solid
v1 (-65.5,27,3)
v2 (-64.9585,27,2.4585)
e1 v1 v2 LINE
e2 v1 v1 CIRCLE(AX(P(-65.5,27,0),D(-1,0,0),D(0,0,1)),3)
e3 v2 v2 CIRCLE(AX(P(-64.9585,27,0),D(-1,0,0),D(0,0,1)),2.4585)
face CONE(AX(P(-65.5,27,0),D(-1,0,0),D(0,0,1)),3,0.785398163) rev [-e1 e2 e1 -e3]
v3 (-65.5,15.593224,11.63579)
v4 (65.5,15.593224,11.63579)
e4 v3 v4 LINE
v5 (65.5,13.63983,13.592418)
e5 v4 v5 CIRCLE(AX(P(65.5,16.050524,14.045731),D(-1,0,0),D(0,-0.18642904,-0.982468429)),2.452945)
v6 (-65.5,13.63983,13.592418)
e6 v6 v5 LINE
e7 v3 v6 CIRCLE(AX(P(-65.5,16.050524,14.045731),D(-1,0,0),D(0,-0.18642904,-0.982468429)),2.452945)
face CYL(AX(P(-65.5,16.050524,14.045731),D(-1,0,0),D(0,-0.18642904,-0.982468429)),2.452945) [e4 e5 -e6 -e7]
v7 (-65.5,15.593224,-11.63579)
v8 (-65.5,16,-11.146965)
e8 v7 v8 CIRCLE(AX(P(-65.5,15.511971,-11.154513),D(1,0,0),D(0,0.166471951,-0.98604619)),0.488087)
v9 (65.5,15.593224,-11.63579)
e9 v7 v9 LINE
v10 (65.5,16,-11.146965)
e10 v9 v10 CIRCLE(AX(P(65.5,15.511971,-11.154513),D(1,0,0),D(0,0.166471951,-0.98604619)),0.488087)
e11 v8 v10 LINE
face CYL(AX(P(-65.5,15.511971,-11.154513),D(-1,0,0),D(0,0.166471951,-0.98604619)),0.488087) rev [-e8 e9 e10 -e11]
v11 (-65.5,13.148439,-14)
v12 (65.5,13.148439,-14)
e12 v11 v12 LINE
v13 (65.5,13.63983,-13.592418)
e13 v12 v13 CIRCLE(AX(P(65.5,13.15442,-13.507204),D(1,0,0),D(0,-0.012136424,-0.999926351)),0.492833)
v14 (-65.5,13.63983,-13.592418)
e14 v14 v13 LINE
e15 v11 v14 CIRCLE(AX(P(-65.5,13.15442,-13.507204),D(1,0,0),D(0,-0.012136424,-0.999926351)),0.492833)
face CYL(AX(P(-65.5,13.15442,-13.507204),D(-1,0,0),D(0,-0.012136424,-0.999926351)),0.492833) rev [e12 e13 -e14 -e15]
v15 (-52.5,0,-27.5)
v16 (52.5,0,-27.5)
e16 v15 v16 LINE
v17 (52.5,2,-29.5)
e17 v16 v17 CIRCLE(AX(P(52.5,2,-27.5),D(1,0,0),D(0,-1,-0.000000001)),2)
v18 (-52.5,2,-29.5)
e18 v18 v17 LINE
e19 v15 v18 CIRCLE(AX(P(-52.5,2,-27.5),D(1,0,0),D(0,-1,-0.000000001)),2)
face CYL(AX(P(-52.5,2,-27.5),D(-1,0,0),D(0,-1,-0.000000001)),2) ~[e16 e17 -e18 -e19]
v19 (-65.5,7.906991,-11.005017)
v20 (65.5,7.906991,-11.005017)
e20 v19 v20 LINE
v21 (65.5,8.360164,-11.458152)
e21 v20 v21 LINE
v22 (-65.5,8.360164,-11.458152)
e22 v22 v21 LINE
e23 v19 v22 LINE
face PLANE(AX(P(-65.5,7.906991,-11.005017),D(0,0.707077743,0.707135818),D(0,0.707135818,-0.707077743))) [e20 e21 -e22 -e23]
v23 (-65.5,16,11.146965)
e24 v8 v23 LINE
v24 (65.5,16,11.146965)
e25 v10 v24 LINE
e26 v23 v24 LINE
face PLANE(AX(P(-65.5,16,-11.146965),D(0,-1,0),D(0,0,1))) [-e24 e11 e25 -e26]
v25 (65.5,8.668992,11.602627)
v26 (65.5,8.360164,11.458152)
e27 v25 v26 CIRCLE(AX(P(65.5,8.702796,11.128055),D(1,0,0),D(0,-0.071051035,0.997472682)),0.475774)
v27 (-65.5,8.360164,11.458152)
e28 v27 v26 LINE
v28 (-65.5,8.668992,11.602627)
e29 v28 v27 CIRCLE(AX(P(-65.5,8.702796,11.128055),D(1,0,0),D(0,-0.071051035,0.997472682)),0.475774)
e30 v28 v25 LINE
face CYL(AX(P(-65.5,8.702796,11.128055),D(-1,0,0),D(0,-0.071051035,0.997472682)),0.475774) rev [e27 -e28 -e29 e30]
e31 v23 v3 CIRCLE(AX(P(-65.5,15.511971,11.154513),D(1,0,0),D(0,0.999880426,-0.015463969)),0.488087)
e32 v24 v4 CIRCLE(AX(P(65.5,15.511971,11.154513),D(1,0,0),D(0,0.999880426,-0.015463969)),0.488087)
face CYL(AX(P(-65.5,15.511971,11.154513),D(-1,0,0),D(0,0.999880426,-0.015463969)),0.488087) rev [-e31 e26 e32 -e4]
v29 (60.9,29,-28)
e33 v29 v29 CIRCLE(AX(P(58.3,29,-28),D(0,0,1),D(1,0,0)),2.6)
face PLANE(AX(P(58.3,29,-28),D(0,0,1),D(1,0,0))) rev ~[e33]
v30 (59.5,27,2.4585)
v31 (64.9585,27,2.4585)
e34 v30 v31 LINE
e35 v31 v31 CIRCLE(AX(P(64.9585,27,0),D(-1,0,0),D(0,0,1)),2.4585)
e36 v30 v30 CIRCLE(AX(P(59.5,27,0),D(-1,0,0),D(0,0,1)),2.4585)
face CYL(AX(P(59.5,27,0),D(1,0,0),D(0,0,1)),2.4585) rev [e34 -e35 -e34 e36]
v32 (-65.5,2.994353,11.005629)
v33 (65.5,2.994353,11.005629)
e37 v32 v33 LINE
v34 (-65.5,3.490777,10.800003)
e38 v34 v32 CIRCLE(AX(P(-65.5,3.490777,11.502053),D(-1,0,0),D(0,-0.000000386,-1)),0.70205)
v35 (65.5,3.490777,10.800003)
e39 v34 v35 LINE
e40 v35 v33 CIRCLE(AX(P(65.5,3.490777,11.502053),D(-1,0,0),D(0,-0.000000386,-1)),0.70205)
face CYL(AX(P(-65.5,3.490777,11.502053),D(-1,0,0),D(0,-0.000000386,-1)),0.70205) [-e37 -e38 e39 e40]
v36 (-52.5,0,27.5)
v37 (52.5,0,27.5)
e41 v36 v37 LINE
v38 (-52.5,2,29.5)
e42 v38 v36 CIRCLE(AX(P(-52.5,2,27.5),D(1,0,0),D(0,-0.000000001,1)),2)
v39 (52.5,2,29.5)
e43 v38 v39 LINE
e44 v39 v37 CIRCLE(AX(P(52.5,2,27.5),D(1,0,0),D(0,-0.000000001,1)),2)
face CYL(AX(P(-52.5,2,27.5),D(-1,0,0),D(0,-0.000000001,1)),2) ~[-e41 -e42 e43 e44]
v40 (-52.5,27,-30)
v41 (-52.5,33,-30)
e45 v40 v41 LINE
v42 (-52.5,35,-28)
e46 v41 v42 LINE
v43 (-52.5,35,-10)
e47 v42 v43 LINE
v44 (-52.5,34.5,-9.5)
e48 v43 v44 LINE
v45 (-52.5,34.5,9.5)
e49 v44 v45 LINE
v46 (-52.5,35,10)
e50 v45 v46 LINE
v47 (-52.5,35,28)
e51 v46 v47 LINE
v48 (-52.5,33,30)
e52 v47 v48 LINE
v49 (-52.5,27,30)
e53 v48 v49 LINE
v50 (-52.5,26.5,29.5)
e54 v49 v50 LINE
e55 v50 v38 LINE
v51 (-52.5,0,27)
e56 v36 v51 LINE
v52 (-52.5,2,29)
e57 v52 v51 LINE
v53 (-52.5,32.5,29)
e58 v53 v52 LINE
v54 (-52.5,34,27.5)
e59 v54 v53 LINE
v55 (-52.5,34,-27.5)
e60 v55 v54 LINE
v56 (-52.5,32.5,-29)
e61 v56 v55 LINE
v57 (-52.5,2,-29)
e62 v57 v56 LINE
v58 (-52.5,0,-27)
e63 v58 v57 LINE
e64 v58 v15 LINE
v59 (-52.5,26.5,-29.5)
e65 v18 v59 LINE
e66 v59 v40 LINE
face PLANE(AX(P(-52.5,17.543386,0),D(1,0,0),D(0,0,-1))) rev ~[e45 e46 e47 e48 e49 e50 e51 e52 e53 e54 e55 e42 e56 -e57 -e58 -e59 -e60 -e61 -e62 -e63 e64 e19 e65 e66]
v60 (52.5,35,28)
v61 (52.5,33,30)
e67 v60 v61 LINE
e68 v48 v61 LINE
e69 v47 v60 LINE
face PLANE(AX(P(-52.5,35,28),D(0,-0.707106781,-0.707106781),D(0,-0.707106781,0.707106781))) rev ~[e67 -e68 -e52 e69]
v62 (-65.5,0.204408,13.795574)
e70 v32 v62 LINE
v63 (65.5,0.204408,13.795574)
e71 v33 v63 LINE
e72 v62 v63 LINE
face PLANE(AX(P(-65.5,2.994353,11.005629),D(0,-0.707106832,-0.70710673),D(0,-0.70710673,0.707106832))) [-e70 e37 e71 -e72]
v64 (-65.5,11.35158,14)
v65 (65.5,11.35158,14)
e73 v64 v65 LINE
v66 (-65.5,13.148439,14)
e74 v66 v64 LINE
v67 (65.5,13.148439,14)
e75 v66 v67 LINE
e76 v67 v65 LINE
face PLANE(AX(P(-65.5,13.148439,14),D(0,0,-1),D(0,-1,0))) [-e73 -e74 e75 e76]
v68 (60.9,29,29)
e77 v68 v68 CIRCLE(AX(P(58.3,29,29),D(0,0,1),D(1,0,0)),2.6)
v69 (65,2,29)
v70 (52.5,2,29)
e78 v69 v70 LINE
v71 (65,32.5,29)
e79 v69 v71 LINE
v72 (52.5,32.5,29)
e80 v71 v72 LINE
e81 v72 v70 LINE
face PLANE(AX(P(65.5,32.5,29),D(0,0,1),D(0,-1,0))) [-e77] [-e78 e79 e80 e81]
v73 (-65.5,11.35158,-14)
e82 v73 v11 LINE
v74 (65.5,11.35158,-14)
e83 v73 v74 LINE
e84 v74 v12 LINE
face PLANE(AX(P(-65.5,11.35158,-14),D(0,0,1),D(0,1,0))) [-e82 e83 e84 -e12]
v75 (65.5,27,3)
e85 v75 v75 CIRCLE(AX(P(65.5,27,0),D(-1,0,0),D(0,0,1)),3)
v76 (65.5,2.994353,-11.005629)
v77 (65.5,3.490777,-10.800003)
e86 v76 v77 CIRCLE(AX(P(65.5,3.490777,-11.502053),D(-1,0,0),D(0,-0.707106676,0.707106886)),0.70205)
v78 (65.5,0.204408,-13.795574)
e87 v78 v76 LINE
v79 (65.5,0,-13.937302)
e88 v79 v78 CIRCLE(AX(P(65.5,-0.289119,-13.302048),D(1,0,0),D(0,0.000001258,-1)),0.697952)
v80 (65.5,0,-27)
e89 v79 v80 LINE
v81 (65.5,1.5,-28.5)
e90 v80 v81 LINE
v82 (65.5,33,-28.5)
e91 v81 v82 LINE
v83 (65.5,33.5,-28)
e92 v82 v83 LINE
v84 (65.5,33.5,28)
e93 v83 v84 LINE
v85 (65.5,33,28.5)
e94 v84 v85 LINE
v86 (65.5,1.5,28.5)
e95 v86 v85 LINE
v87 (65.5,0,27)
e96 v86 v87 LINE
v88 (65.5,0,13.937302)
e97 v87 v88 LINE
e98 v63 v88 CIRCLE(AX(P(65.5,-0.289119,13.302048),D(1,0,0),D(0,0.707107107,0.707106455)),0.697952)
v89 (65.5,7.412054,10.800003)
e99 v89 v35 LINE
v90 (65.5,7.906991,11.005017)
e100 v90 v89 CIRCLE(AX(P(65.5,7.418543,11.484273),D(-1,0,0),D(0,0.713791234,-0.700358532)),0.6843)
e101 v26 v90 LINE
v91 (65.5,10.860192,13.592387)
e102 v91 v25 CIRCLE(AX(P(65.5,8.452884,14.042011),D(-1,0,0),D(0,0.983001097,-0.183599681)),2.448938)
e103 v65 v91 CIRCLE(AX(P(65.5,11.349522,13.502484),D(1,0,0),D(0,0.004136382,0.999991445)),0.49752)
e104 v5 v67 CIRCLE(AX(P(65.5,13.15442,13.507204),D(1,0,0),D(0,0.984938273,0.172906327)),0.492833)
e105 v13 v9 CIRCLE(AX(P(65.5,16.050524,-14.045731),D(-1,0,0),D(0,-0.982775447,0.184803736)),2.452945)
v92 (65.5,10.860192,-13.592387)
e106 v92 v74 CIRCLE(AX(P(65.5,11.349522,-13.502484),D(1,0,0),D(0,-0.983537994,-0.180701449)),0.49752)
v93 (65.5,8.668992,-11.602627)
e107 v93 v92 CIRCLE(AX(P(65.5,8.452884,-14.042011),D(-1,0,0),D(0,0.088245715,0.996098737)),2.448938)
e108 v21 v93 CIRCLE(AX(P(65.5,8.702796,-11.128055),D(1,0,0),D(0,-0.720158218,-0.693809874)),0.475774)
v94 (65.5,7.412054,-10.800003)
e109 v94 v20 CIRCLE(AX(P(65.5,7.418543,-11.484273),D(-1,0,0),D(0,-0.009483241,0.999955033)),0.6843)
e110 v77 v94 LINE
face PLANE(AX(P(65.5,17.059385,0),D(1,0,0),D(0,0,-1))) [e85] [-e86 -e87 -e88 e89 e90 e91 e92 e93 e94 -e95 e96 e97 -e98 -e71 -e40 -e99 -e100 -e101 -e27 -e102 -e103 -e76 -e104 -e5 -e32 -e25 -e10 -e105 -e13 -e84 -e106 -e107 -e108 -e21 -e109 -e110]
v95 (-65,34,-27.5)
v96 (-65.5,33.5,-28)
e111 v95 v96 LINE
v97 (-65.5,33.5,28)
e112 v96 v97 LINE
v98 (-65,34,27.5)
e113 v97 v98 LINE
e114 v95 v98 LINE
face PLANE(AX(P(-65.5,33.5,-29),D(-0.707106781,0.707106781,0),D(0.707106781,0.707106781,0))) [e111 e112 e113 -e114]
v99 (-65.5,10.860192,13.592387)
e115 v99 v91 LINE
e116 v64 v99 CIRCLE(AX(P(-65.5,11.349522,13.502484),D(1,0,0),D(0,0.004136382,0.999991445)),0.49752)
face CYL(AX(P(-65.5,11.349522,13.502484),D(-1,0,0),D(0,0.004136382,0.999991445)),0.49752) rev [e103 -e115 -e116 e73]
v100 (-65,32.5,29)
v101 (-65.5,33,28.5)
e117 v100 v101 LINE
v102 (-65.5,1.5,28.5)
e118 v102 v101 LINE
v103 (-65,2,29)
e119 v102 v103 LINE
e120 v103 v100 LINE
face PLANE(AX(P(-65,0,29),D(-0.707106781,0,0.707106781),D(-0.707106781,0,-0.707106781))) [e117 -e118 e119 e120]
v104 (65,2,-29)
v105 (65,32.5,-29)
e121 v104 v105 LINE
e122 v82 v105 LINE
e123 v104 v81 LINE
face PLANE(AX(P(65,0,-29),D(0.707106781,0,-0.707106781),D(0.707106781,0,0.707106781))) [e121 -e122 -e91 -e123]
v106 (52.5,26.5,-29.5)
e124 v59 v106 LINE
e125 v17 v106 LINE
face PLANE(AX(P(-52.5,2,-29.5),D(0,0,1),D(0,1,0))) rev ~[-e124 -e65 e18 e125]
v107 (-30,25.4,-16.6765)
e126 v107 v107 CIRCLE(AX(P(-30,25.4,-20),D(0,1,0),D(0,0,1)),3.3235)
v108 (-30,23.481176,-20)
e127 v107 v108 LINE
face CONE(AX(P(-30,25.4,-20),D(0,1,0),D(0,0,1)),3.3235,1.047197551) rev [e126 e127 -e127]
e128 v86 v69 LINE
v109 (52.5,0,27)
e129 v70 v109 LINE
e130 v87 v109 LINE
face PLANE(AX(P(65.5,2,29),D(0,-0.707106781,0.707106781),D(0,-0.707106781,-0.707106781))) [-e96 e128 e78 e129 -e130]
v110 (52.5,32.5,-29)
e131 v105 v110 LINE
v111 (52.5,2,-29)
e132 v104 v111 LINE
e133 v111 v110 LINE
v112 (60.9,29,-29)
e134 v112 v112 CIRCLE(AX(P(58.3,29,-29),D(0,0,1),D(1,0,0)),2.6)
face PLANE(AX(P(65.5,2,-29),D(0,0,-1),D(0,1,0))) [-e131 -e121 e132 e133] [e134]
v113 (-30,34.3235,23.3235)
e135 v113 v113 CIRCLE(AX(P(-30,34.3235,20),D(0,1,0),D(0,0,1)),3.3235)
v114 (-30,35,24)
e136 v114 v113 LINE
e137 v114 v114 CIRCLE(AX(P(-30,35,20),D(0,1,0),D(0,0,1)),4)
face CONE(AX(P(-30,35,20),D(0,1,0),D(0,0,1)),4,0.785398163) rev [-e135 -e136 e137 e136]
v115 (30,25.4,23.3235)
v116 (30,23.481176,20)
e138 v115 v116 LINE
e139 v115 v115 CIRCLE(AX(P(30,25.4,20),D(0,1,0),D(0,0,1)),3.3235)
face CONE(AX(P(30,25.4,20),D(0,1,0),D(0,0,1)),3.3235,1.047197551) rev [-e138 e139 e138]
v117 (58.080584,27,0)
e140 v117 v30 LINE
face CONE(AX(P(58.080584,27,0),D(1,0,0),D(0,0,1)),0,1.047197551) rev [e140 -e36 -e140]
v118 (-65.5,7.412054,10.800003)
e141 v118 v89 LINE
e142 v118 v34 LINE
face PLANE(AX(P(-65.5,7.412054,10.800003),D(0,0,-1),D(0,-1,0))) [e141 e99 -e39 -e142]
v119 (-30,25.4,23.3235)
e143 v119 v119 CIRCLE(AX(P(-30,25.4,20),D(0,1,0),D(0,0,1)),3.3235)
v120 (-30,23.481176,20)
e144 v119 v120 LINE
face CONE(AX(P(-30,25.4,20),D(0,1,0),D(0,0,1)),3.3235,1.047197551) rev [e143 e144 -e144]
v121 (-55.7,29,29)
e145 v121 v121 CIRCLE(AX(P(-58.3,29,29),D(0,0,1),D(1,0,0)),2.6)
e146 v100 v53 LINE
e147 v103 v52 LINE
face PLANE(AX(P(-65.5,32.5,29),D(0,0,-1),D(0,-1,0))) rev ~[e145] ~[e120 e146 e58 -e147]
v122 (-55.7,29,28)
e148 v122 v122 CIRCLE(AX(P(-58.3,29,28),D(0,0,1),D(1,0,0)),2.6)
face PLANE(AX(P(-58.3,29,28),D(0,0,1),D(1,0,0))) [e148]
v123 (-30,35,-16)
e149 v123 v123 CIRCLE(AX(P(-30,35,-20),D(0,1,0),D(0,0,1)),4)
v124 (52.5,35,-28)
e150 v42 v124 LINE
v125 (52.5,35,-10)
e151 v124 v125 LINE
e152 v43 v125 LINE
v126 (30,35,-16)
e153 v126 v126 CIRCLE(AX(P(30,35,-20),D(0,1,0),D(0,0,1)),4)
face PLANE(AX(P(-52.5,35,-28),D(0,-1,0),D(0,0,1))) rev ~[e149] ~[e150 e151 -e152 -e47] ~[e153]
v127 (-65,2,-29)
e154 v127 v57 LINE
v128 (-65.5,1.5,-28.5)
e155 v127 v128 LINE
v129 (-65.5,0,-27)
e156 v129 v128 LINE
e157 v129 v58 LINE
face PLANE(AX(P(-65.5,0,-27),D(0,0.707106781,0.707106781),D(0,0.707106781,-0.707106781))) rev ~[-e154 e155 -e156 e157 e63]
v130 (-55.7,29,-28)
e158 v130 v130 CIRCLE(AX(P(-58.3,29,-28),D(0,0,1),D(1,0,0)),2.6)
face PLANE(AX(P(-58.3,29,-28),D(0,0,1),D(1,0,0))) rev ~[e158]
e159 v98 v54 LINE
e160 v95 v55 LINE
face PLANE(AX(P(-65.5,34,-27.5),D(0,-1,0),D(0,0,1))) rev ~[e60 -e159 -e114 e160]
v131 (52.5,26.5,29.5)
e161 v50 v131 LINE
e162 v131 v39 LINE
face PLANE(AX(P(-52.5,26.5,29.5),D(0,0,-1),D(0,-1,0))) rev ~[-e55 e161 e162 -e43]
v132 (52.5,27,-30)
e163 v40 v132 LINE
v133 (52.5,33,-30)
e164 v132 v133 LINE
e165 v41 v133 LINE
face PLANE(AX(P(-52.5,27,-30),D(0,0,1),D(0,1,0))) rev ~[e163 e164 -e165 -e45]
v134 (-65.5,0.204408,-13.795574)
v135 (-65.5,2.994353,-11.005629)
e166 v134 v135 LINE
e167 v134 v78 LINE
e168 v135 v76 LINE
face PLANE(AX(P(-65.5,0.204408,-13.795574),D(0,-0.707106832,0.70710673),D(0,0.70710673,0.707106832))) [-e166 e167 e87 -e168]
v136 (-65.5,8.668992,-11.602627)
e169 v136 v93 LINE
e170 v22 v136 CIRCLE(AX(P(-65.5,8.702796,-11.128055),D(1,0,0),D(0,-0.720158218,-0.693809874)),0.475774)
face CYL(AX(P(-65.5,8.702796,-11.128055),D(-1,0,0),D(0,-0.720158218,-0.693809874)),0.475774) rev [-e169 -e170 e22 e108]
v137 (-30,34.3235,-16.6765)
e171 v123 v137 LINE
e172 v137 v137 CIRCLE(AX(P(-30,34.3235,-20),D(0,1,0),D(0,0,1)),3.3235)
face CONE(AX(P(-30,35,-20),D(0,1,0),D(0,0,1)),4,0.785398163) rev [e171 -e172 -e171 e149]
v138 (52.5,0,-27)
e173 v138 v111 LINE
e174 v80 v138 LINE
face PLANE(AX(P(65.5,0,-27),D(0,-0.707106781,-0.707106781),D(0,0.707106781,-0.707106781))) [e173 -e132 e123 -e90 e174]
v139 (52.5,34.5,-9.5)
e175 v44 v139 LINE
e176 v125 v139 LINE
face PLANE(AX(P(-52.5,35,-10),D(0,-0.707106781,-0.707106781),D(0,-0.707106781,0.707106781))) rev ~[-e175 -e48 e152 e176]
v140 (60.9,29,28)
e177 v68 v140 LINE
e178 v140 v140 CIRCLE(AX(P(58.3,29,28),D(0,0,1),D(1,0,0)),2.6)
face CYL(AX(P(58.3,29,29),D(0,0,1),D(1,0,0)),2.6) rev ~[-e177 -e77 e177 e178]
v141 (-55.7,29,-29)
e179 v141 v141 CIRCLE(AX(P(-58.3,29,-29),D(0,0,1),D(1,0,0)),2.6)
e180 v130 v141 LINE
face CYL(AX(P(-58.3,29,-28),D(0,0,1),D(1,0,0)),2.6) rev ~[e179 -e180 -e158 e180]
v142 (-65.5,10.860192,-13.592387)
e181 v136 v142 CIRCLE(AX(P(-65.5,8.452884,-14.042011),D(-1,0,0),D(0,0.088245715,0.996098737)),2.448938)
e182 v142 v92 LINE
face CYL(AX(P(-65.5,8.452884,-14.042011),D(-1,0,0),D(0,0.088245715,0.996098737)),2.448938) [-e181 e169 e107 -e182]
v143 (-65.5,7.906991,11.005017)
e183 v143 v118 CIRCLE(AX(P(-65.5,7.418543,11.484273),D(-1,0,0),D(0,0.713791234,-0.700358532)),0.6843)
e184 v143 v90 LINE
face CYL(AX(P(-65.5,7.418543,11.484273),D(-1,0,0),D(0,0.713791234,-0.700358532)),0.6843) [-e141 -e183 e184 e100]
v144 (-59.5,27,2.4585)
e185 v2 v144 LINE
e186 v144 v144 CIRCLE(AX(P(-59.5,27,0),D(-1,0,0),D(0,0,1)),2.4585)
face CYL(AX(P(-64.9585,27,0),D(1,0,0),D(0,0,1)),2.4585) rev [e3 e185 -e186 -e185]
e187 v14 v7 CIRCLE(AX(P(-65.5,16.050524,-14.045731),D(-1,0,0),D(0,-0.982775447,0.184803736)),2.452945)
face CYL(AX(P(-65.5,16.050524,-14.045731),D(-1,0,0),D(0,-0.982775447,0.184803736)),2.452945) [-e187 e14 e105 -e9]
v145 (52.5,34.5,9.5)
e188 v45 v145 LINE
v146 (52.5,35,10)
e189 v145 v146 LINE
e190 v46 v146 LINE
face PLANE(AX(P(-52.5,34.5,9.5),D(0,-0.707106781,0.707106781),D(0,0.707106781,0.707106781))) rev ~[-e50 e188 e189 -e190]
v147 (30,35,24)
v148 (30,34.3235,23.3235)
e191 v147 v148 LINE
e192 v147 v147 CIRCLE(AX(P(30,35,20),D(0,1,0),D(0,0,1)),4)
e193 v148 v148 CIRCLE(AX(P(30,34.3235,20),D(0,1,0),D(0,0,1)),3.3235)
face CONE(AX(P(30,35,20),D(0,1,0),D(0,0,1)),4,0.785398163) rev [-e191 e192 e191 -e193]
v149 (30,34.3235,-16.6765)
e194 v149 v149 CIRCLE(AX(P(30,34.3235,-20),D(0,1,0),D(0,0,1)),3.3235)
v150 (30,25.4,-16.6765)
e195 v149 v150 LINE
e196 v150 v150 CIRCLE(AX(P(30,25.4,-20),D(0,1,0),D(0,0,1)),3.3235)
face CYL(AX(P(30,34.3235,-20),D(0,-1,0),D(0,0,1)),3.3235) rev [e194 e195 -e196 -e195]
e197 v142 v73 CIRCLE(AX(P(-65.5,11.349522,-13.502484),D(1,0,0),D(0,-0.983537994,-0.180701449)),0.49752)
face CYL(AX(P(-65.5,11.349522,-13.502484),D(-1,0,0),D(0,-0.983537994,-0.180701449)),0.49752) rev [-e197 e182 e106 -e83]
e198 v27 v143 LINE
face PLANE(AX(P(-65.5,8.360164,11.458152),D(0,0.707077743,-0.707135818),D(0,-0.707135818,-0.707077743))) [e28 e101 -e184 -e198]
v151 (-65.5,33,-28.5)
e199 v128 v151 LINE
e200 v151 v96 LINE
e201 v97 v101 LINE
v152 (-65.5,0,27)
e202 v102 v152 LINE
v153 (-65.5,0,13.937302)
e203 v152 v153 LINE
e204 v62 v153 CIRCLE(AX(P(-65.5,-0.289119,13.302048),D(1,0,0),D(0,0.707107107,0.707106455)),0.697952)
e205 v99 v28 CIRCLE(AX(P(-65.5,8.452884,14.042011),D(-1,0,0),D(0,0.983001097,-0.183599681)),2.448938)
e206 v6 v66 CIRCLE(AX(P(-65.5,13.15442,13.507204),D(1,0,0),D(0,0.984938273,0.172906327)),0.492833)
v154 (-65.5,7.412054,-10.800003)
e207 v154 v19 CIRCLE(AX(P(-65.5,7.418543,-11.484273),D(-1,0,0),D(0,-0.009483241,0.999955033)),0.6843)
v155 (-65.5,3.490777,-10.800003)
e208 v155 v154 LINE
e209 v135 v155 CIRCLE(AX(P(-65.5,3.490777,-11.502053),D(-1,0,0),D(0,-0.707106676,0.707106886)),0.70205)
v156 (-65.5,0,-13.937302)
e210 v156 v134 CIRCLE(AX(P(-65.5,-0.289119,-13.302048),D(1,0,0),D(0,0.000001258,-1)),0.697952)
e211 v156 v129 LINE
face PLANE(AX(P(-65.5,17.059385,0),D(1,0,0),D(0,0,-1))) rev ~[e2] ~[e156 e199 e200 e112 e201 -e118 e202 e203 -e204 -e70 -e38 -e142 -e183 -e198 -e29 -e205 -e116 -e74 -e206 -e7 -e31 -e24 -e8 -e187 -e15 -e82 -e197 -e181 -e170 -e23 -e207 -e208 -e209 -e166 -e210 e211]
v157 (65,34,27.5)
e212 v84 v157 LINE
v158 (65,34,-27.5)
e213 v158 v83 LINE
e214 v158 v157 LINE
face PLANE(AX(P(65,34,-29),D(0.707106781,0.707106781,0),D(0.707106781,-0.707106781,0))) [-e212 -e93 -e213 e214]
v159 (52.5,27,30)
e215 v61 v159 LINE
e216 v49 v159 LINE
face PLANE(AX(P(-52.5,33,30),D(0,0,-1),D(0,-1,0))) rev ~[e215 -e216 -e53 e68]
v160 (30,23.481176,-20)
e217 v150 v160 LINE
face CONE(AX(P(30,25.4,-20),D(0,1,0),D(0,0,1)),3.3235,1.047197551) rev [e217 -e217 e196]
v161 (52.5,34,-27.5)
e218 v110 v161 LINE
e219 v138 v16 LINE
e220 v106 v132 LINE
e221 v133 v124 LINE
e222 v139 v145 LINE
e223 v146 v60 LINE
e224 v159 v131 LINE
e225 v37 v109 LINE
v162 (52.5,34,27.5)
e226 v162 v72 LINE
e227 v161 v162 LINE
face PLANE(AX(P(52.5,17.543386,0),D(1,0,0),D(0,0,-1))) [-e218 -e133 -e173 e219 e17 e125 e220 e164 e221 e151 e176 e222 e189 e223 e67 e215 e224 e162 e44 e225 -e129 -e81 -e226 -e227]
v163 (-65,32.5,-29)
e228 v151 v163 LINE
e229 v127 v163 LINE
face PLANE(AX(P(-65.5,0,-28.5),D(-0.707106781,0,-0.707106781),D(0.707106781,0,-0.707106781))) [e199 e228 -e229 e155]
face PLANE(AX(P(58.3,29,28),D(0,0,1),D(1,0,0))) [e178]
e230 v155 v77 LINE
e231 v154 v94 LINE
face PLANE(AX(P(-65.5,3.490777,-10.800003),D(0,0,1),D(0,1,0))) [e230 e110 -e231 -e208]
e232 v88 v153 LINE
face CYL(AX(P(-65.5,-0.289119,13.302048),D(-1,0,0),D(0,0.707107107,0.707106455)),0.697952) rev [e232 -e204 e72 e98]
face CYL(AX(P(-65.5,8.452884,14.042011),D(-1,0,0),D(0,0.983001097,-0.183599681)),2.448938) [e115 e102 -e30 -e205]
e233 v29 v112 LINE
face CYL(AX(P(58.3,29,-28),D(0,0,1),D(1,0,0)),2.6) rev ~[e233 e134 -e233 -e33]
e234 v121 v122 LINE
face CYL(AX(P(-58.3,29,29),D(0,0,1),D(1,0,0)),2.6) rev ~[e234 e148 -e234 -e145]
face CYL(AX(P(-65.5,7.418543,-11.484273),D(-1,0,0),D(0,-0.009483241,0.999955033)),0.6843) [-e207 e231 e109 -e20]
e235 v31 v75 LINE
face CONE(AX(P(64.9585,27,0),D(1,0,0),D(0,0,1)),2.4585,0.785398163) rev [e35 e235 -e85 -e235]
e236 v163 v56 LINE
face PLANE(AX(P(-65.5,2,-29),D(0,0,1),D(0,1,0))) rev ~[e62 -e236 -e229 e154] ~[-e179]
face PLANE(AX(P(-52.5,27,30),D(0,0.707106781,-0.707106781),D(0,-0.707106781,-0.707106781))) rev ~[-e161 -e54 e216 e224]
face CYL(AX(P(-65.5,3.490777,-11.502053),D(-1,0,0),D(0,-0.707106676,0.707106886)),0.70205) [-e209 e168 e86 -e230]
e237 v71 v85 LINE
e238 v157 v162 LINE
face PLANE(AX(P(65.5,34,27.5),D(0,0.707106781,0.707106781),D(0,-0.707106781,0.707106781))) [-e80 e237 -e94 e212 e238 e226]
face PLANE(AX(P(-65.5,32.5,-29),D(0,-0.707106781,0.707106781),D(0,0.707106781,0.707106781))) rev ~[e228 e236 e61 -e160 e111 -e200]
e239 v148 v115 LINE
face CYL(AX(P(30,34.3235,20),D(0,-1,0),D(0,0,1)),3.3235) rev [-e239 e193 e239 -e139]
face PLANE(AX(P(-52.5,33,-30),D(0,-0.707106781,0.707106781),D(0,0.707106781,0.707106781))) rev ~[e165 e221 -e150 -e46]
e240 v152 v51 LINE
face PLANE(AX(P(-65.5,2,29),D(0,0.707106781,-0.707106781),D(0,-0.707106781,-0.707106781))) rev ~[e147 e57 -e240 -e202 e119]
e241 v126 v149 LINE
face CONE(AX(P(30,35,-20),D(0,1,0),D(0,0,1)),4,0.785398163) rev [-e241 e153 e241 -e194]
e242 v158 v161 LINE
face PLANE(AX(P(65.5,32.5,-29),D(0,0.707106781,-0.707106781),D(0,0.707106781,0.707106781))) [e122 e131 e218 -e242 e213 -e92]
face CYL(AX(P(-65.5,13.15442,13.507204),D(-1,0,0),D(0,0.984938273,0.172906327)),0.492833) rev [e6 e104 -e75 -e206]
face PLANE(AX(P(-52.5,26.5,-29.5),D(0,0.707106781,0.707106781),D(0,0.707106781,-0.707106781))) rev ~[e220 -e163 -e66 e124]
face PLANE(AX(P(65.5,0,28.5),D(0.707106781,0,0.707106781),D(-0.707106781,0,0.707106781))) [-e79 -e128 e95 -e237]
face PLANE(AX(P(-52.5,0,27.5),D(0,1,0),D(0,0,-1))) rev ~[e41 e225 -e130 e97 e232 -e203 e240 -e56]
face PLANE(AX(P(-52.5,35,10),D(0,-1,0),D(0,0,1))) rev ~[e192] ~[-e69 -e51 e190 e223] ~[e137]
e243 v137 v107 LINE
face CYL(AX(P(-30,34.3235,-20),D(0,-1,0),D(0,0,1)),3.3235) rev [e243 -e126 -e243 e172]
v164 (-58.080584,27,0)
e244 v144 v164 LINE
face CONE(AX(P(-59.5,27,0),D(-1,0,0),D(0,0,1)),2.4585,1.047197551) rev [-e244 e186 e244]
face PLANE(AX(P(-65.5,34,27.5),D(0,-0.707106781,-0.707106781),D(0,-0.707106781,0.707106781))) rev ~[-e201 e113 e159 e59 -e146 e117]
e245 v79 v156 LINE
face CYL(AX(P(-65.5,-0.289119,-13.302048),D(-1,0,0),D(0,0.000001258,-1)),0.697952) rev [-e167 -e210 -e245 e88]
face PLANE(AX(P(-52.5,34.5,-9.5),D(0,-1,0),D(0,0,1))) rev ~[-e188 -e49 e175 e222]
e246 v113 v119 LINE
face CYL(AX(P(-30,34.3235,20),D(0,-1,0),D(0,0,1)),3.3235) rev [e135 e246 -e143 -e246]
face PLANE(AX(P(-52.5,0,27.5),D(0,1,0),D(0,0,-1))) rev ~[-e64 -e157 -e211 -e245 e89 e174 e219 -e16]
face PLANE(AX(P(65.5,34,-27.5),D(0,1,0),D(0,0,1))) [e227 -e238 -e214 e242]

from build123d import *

# Parameters (mm, degrees)
BOSS_EXTRUDE1_DEPTH      = 52.5
BOSS_EXTRUDE1_DEPTH_BACK = 52.5
BOSS_EXTRUDE2_DEPTH      = 13
BOSS_EXTRUDE3_DEPTH      = 13
CUT_EXTRUDE1_DEPTH       = 65.5
CUT_EXTRUDE1_DEPTH_BACK  = 65.5
CUT_EXTRUDE2_DEPTH       = 29
CUT_EXTRUDE2_DEPTH_BACK  = 29
CUT_EXTRUDE3_DEPTH       = 29
CUT_EXTRUDE3_DEPTH_BACK  = 29
SKETCH7_R                = 2.6
CUT_EXTRUDE4_DEPTH       = 1
SKETCH8_R                = 2.6
CUT_EXTRUDE5_DEPTH       = 1
CUT_EXTRUDE6_START       = 1
SKETCH9_R                = 2.6
CUT_EXTRUDE6_DEPTH       = 1
CUT_EXTRUDE7_START       = 1
SKETCH10_R               = 2.6
CUT_EXTRUDE7_DEPTH       = 1
CUT_EXTRUDE8_DEPTH       = 35
CUT_EXTRUDE9_DEPTH       = 35


with BuildPart() as part:
    # Sketch1 → Boss-Extrude1 (new, two sides: drawn at the far end of the back side and taken through both)
    with BuildSketch(Plane(origin=(0, 0, 0), x_dir=(0, 0, -1), z_dir=(1, 0, 0)).offset(-BOSS_EXTRUDE1_DEPTH_BACK)):
        with BuildLine():
            Line((-30, 33), (-30, 27))
            Line((-30, 27), (-29.5, 26.5))
            Line((-29.5, 26.5), (-29.5, 2))
            ThreePointArc((-29.5, 2), (-28.914213562, 0.585786438), (-27.5, 0))
            Line((-27.5, 0), (27.5, 0))
            ThreePointArc((27.5, 0), (28.914213562, 0.585786438), (29.5, 2))
            Line((29.5, 2), (29.5, 26.5))
            Line((29.5, 26.5), (30, 27))
            Line((30, 27), (30, 33))
            Line((30, 33), (28, 35))
            Line((28, 35), (10, 35))
            Line((10, 35), (9.5, 34.5))
            Line((9.5, 34.5), (-9.5, 34.5))
            Line((-9.5, 34.5), (-10, 35))
            Line((-10, 35), (-28, 35))
            Line((-28, 35), (-30, 33))
        make_face()
    extrude(amount=BOSS_EXTRUDE1_DEPTH + BOSS_EXTRUDE1_DEPTH_BACK)

    # Sketch2 → Boss-Extrude2 (add)
    with BuildSketch(Plane(origin=(-65.5, 0, 0), x_dir=(0, 0, -1), z_dir=(1, 0, 0))):
        Polygon((-29, 2), (-27, 0), (27, 0), (29, 2), (29, 32.5), (27.5, 34), (-27.5, 34), (-29, 32.5), align=None)
    extrude(amount=BOSS_EXTRUDE2_DEPTH)

    # Sketch3 → Boss-Extrude3 (add)
    with BuildSketch(Plane(origin=(65.5, 0, 0), x_dir=(0, 0, -1), z_dir=(1, 0, 0))):
        Polygon((-29, 2), (-27, 0), (27, 0), (29, 2), (29, 32.5), (27.5, 34), (-27.5, 34), (-29, 32.5), align=None)
    extrude(amount=-BOSS_EXTRUDE3_DEPTH)

    # Sketch4 → Cut-Extrude1 (cut, two sides: drawn at the far end of the back side and taken through both)
    with BuildSketch(Plane(origin=(0, 0, 0), x_dir=(0, 0, -1), z_dir=(1, 0, 0)).offset(-CUT_EXTRUDE1_DEPTH_BACK)):
        with BuildLine():
            Line((-14, 13.148439), (-14, 11.35158))
            ThreePointArc((-14, 11.35158), (-13.885407957, 11.031881418), (-13.592386868, 10.860192277))
            ThreePointArc((-13.592386868, 10.860192277), (-12.229021504, 10.099202354), (-11.602627372, 8.66899217))
            ThreePointArc((-11.602627372, 8.66899217), (-11.559004129, 8.501191683), (-11.458152391, 8.360163609))
            Line((-11.458152391, 8.360163609), (-11.005017, 7.906991))
            ThreePointArc((-11.005017, 7.906991), (-10.852063473, 7.680418582), (-10.800003, 7.412054))
            Line((-10.800003, 7.412054), (-10.800003, 3.490777069))
            ThreePointArc((-10.800003, 3.490777069), (-10.853443426, 3.222114259), (-11.005628687, 2.994352913))
            Line((-11.005628687, 2.994352913), (-13.795574427, 0.204407575))
            ThreePointArc((-13.795574427, 0.204407575), (-13.946871354, -0.022023954), (-14, -0.289118216))
            Line((-14, -0.289118216), (-14, -5.5))
            Line((-14, -5.5), (-12.5, -7))
            Line((-12.5, -7), (-5.0000003, -7))
            Line((-5.0000003, -7), (-4.499985, -6.50000763))
            Line((-4.499985, -6.50000763), (4.499985, -6.50000763))
            Line((4.499985, -6.50000763), (5.0000003, -7))
            Line((5.0000003, -7), (12.5, -7))
            Line((12.5, -7), (14, -5.5))
            Line((14, -5.5), (14, -0.289118216))
            ThreePointArc((14, -0.289118216), (13.946871354, -0.022023954), (13.795574427, 0.204407575))
            Line((13.795574427, 0.204407575), (11.005628687, 2.994352913))
            ThreePointArc((11.005628687, 2.994352913), (10.853443426, 3.222114259), (10.800003, 3.490777069))
            Line((10.800003, 3.490777069), (10.800003, 7.412054))
            ThreePointArc((10.800003, 7.412054), (10.852063473, 7.680418582), (11.005017, 7.906991))
            Line((11.005017, 7.906991), (11.458152391, 8.360163609))
            ThreePointArc((11.458152391, 8.360163609), (11.559004129, 8.501191683), (11.602627372, 8.66899217))
            ThreePointArc((11.602627372, 8.66899217), (12.229021504, 10.099202354), (13.592386868, 10.860192277))
            ThreePointArc((13.592386868, 10.860192277), (13.885407957, 11.031881418), (14, 11.35158))
            Line((14, 11.35158), (14, 13.148439))
            ThreePointArc((14, 13.148439), (13.886532321, 13.469052961), (13.5924176, 13.639829881))
            ThreePointArc((13.5924176, 13.639829881), (12.312672018, 14.314596081), (11.635789981, 15.593223817))
            ThreePointArc((11.635789981, 15.593223817), (11.466717508, 15.887148006), (11.146965482, 16))
            Line((11.146965482, 16), (-11.146965482, 16))
            ThreePointArc((-11.146965482, 16), (-11.466717508, 15.887148006), (-11.635789981, 15.593223817))
            ThreePointArc((-11.635789981, 15.593223817), (-12.312672018, 14.314596081), (-13.5924176, 13.639829881))
            ThreePointArc((-13.5924176, 13.639829881), (-13.886532321, 13.469052961), (-14, 13.148439))
        make_face()
    extrude(amount=CUT_EXTRUDE1_DEPTH + CUT_EXTRUDE1_DEPTH_BACK, mode=Mode.SUBTRACT)

    # Sketch5 → Cut-Extrude2 (cut, two sides: drawn at the far end of the back side and taken through both)
    with BuildSketch(Plane.XY.offset(-CUT_EXTRUDE2_DEPTH_BACK)):
        Polygon((-65.5, 33.5), (-65, 34), (-65.5, 34), align=None)
    extrude(amount=CUT_EXTRUDE2_DEPTH + CUT_EXTRUDE2_DEPTH_BACK, mode=Mode.SUBTRACT)

    # Sketch6 → Cut-Extrude3 (cut, two sides: drawn at the far end of the back side and taken through both)
    with BuildSketch(Plane.XY.offset(-CUT_EXTRUDE3_DEPTH_BACK)):
        Polygon((65, 34), (65.5, 33.5), (65.5, 34), align=None)
    extrude(amount=CUT_EXTRUDE3_DEPTH + CUT_EXTRUDE3_DEPTH_BACK, mode=Mode.SUBTRACT)

    # Sketch7 → Cut-Extrude4 (cut)
    with BuildSketch(Plane.XY.offset(29)):
        with Locations((58.3, 29)):
            Circle(SKETCH7_R)
    extrude(amount=-CUT_EXTRUDE4_DEPTH, mode=Mode.SUBTRACT)

    # Sketch8 → Cut-Extrude5 (cut)
    with BuildSketch(Plane.XY.offset(29)):
        with Locations((-58.3, 29)):
            Circle(SKETCH8_R)
    extrude(amount=-CUT_EXTRUDE5_DEPTH, mode=Mode.SUBTRACT)

    # Sketch9 → Cut-Extrude6 (cut)
    with BuildSketch(Plane.XY.offset(-29).offset(CUT_EXTRUDE6_START)):
        with Locations((58.3, 29)):
            Circle(SKETCH9_R)
    extrude(amount=-CUT_EXTRUDE6_DEPTH, mode=Mode.SUBTRACT)

    # Sketch10 → Cut-Extrude7 (cut)
    with BuildSketch(Plane.XY.offset(-29).offset(CUT_EXTRUDE7_START)):
        with Locations((-58.3, 29)):
            Circle(SKETCH10_R)
    extrude(amount=-CUT_EXTRUDE7_DEPTH, mode=Mode.SUBTRACT)

    # Sketch11 → Cut-Revolve1 (revolve, cut)
    with BuildSketch(Plane.XY):
        Polygon((-65.5, 27), (-65.5, 30), (-64.9585, 29.4585), (-59.5, 29.4585), (-58.080584363, 27), align=None)
    revolve(axis=Axis((-58.080584363, 27, 0), (-1, 0, 0)), mode=Mode.SUBTRACT)

    # Sketch12 → Cut-Revolve2 (revolve, cut)
    with BuildSketch(Plane.XY):
        Polygon((58.080584363, 27), (59.5, 29.4585), (64.9585, 29.4585), (65.5, 30), (65.5, 27), align=None)
    revolve(axis=Axis((65.5, 27, 0), (-1, 0, 0)), mode=Mode.SUBTRACT)

    # Sketch13 → Cut-Revolve3 (revolve, cut)
    with BuildSketch(Plane.XY.offset(20)):
        Polygon((-30, 35), (-26, 35), (-26.6765, 34.3235), (-26.6765, 25.4), (-30, 23.48117638), align=None)
    revolve(axis=Axis((-30, 23.48117638, 20), (0, 1, 0)), mode=Mode.SUBTRACT)

    # Sketch14 → Cut-Revolve4 (revolve, cut)
    with BuildSketch(Plane.XY.offset(20)):
        Polygon((30, 35), (34, 35), (33.3235, 34.3235), (33.3235, 25.4), (30, 23.48117638), align=None)
    revolve(axis=Axis((30, 23.48117638, 20), (0, 1, 0)), mode=Mode.SUBTRACT)

    # Sketch15 → Cut-Revolve5 (revolve, cut)
    with BuildSketch(Plane.XY.offset(-20)):
        Polygon((-30, 35), (-26, 35), (-26.6765, 34.3235), (-26.6765, 25.4), (-30, 23.48117638), align=None)
    revolve(axis=Axis((-30, 23.48117638, -20), (0, 1, 0)), mode=Mode.SUBTRACT)

    # Sketch16 → Cut-Revolve6 (revolve, cut)
    with BuildSketch(Plane.XY.offset(-20)):
        Polygon((30, 35), (34, 35), (33.3235, 34.3235), (33.3235, 25.4), (30, 23.48117638), align=None)
    revolve(axis=Axis((30, 23.48117638, -20), (0, 1, 0)), mode=Mode.SUBTRACT)

    # Sketch17 → Cut-Extrude8 (cut)
    with BuildSketch(Plane(origin=(0, 0, 0), x_dir=(1, 0, 0), z_dir=(0, 1, 0))):
        Polygon((-130.5, 29.5), (-130.5, -29.5), (-65, -29.5), (-65, -29), (-65.5, -28.5), (-65.5, -29), (-130, -29), (-130, 29), (-65.5, 29), (-65.5, 28.5), (-65, 29), (-65, 29.5), align=None)
    extrude(amount=CUT_EXTRUDE8_DEPTH, mode=Mode.SUBTRACT)

    # Sketch18 → Cut-Extrude9 (cut)
    with BuildSketch(Plane(origin=(0, 0, 0), x_dir=(1, 0, 0), z_dir=(0, 1, 0))):
        Polygon((65, -29), (65, -29.5), (130.5, -29.5), (130.5, 29.5), (65, 29.5), (65, 29), (65.5, 28.5), (65.5, 29), (130, 29), (130, -29), (65.5, -29), (65.5, -28.5), align=None)
    extrude(amount=CUT_EXTRUDE9_DEPTH, mode=Mode.SUBTRACT)


solid = part.part
